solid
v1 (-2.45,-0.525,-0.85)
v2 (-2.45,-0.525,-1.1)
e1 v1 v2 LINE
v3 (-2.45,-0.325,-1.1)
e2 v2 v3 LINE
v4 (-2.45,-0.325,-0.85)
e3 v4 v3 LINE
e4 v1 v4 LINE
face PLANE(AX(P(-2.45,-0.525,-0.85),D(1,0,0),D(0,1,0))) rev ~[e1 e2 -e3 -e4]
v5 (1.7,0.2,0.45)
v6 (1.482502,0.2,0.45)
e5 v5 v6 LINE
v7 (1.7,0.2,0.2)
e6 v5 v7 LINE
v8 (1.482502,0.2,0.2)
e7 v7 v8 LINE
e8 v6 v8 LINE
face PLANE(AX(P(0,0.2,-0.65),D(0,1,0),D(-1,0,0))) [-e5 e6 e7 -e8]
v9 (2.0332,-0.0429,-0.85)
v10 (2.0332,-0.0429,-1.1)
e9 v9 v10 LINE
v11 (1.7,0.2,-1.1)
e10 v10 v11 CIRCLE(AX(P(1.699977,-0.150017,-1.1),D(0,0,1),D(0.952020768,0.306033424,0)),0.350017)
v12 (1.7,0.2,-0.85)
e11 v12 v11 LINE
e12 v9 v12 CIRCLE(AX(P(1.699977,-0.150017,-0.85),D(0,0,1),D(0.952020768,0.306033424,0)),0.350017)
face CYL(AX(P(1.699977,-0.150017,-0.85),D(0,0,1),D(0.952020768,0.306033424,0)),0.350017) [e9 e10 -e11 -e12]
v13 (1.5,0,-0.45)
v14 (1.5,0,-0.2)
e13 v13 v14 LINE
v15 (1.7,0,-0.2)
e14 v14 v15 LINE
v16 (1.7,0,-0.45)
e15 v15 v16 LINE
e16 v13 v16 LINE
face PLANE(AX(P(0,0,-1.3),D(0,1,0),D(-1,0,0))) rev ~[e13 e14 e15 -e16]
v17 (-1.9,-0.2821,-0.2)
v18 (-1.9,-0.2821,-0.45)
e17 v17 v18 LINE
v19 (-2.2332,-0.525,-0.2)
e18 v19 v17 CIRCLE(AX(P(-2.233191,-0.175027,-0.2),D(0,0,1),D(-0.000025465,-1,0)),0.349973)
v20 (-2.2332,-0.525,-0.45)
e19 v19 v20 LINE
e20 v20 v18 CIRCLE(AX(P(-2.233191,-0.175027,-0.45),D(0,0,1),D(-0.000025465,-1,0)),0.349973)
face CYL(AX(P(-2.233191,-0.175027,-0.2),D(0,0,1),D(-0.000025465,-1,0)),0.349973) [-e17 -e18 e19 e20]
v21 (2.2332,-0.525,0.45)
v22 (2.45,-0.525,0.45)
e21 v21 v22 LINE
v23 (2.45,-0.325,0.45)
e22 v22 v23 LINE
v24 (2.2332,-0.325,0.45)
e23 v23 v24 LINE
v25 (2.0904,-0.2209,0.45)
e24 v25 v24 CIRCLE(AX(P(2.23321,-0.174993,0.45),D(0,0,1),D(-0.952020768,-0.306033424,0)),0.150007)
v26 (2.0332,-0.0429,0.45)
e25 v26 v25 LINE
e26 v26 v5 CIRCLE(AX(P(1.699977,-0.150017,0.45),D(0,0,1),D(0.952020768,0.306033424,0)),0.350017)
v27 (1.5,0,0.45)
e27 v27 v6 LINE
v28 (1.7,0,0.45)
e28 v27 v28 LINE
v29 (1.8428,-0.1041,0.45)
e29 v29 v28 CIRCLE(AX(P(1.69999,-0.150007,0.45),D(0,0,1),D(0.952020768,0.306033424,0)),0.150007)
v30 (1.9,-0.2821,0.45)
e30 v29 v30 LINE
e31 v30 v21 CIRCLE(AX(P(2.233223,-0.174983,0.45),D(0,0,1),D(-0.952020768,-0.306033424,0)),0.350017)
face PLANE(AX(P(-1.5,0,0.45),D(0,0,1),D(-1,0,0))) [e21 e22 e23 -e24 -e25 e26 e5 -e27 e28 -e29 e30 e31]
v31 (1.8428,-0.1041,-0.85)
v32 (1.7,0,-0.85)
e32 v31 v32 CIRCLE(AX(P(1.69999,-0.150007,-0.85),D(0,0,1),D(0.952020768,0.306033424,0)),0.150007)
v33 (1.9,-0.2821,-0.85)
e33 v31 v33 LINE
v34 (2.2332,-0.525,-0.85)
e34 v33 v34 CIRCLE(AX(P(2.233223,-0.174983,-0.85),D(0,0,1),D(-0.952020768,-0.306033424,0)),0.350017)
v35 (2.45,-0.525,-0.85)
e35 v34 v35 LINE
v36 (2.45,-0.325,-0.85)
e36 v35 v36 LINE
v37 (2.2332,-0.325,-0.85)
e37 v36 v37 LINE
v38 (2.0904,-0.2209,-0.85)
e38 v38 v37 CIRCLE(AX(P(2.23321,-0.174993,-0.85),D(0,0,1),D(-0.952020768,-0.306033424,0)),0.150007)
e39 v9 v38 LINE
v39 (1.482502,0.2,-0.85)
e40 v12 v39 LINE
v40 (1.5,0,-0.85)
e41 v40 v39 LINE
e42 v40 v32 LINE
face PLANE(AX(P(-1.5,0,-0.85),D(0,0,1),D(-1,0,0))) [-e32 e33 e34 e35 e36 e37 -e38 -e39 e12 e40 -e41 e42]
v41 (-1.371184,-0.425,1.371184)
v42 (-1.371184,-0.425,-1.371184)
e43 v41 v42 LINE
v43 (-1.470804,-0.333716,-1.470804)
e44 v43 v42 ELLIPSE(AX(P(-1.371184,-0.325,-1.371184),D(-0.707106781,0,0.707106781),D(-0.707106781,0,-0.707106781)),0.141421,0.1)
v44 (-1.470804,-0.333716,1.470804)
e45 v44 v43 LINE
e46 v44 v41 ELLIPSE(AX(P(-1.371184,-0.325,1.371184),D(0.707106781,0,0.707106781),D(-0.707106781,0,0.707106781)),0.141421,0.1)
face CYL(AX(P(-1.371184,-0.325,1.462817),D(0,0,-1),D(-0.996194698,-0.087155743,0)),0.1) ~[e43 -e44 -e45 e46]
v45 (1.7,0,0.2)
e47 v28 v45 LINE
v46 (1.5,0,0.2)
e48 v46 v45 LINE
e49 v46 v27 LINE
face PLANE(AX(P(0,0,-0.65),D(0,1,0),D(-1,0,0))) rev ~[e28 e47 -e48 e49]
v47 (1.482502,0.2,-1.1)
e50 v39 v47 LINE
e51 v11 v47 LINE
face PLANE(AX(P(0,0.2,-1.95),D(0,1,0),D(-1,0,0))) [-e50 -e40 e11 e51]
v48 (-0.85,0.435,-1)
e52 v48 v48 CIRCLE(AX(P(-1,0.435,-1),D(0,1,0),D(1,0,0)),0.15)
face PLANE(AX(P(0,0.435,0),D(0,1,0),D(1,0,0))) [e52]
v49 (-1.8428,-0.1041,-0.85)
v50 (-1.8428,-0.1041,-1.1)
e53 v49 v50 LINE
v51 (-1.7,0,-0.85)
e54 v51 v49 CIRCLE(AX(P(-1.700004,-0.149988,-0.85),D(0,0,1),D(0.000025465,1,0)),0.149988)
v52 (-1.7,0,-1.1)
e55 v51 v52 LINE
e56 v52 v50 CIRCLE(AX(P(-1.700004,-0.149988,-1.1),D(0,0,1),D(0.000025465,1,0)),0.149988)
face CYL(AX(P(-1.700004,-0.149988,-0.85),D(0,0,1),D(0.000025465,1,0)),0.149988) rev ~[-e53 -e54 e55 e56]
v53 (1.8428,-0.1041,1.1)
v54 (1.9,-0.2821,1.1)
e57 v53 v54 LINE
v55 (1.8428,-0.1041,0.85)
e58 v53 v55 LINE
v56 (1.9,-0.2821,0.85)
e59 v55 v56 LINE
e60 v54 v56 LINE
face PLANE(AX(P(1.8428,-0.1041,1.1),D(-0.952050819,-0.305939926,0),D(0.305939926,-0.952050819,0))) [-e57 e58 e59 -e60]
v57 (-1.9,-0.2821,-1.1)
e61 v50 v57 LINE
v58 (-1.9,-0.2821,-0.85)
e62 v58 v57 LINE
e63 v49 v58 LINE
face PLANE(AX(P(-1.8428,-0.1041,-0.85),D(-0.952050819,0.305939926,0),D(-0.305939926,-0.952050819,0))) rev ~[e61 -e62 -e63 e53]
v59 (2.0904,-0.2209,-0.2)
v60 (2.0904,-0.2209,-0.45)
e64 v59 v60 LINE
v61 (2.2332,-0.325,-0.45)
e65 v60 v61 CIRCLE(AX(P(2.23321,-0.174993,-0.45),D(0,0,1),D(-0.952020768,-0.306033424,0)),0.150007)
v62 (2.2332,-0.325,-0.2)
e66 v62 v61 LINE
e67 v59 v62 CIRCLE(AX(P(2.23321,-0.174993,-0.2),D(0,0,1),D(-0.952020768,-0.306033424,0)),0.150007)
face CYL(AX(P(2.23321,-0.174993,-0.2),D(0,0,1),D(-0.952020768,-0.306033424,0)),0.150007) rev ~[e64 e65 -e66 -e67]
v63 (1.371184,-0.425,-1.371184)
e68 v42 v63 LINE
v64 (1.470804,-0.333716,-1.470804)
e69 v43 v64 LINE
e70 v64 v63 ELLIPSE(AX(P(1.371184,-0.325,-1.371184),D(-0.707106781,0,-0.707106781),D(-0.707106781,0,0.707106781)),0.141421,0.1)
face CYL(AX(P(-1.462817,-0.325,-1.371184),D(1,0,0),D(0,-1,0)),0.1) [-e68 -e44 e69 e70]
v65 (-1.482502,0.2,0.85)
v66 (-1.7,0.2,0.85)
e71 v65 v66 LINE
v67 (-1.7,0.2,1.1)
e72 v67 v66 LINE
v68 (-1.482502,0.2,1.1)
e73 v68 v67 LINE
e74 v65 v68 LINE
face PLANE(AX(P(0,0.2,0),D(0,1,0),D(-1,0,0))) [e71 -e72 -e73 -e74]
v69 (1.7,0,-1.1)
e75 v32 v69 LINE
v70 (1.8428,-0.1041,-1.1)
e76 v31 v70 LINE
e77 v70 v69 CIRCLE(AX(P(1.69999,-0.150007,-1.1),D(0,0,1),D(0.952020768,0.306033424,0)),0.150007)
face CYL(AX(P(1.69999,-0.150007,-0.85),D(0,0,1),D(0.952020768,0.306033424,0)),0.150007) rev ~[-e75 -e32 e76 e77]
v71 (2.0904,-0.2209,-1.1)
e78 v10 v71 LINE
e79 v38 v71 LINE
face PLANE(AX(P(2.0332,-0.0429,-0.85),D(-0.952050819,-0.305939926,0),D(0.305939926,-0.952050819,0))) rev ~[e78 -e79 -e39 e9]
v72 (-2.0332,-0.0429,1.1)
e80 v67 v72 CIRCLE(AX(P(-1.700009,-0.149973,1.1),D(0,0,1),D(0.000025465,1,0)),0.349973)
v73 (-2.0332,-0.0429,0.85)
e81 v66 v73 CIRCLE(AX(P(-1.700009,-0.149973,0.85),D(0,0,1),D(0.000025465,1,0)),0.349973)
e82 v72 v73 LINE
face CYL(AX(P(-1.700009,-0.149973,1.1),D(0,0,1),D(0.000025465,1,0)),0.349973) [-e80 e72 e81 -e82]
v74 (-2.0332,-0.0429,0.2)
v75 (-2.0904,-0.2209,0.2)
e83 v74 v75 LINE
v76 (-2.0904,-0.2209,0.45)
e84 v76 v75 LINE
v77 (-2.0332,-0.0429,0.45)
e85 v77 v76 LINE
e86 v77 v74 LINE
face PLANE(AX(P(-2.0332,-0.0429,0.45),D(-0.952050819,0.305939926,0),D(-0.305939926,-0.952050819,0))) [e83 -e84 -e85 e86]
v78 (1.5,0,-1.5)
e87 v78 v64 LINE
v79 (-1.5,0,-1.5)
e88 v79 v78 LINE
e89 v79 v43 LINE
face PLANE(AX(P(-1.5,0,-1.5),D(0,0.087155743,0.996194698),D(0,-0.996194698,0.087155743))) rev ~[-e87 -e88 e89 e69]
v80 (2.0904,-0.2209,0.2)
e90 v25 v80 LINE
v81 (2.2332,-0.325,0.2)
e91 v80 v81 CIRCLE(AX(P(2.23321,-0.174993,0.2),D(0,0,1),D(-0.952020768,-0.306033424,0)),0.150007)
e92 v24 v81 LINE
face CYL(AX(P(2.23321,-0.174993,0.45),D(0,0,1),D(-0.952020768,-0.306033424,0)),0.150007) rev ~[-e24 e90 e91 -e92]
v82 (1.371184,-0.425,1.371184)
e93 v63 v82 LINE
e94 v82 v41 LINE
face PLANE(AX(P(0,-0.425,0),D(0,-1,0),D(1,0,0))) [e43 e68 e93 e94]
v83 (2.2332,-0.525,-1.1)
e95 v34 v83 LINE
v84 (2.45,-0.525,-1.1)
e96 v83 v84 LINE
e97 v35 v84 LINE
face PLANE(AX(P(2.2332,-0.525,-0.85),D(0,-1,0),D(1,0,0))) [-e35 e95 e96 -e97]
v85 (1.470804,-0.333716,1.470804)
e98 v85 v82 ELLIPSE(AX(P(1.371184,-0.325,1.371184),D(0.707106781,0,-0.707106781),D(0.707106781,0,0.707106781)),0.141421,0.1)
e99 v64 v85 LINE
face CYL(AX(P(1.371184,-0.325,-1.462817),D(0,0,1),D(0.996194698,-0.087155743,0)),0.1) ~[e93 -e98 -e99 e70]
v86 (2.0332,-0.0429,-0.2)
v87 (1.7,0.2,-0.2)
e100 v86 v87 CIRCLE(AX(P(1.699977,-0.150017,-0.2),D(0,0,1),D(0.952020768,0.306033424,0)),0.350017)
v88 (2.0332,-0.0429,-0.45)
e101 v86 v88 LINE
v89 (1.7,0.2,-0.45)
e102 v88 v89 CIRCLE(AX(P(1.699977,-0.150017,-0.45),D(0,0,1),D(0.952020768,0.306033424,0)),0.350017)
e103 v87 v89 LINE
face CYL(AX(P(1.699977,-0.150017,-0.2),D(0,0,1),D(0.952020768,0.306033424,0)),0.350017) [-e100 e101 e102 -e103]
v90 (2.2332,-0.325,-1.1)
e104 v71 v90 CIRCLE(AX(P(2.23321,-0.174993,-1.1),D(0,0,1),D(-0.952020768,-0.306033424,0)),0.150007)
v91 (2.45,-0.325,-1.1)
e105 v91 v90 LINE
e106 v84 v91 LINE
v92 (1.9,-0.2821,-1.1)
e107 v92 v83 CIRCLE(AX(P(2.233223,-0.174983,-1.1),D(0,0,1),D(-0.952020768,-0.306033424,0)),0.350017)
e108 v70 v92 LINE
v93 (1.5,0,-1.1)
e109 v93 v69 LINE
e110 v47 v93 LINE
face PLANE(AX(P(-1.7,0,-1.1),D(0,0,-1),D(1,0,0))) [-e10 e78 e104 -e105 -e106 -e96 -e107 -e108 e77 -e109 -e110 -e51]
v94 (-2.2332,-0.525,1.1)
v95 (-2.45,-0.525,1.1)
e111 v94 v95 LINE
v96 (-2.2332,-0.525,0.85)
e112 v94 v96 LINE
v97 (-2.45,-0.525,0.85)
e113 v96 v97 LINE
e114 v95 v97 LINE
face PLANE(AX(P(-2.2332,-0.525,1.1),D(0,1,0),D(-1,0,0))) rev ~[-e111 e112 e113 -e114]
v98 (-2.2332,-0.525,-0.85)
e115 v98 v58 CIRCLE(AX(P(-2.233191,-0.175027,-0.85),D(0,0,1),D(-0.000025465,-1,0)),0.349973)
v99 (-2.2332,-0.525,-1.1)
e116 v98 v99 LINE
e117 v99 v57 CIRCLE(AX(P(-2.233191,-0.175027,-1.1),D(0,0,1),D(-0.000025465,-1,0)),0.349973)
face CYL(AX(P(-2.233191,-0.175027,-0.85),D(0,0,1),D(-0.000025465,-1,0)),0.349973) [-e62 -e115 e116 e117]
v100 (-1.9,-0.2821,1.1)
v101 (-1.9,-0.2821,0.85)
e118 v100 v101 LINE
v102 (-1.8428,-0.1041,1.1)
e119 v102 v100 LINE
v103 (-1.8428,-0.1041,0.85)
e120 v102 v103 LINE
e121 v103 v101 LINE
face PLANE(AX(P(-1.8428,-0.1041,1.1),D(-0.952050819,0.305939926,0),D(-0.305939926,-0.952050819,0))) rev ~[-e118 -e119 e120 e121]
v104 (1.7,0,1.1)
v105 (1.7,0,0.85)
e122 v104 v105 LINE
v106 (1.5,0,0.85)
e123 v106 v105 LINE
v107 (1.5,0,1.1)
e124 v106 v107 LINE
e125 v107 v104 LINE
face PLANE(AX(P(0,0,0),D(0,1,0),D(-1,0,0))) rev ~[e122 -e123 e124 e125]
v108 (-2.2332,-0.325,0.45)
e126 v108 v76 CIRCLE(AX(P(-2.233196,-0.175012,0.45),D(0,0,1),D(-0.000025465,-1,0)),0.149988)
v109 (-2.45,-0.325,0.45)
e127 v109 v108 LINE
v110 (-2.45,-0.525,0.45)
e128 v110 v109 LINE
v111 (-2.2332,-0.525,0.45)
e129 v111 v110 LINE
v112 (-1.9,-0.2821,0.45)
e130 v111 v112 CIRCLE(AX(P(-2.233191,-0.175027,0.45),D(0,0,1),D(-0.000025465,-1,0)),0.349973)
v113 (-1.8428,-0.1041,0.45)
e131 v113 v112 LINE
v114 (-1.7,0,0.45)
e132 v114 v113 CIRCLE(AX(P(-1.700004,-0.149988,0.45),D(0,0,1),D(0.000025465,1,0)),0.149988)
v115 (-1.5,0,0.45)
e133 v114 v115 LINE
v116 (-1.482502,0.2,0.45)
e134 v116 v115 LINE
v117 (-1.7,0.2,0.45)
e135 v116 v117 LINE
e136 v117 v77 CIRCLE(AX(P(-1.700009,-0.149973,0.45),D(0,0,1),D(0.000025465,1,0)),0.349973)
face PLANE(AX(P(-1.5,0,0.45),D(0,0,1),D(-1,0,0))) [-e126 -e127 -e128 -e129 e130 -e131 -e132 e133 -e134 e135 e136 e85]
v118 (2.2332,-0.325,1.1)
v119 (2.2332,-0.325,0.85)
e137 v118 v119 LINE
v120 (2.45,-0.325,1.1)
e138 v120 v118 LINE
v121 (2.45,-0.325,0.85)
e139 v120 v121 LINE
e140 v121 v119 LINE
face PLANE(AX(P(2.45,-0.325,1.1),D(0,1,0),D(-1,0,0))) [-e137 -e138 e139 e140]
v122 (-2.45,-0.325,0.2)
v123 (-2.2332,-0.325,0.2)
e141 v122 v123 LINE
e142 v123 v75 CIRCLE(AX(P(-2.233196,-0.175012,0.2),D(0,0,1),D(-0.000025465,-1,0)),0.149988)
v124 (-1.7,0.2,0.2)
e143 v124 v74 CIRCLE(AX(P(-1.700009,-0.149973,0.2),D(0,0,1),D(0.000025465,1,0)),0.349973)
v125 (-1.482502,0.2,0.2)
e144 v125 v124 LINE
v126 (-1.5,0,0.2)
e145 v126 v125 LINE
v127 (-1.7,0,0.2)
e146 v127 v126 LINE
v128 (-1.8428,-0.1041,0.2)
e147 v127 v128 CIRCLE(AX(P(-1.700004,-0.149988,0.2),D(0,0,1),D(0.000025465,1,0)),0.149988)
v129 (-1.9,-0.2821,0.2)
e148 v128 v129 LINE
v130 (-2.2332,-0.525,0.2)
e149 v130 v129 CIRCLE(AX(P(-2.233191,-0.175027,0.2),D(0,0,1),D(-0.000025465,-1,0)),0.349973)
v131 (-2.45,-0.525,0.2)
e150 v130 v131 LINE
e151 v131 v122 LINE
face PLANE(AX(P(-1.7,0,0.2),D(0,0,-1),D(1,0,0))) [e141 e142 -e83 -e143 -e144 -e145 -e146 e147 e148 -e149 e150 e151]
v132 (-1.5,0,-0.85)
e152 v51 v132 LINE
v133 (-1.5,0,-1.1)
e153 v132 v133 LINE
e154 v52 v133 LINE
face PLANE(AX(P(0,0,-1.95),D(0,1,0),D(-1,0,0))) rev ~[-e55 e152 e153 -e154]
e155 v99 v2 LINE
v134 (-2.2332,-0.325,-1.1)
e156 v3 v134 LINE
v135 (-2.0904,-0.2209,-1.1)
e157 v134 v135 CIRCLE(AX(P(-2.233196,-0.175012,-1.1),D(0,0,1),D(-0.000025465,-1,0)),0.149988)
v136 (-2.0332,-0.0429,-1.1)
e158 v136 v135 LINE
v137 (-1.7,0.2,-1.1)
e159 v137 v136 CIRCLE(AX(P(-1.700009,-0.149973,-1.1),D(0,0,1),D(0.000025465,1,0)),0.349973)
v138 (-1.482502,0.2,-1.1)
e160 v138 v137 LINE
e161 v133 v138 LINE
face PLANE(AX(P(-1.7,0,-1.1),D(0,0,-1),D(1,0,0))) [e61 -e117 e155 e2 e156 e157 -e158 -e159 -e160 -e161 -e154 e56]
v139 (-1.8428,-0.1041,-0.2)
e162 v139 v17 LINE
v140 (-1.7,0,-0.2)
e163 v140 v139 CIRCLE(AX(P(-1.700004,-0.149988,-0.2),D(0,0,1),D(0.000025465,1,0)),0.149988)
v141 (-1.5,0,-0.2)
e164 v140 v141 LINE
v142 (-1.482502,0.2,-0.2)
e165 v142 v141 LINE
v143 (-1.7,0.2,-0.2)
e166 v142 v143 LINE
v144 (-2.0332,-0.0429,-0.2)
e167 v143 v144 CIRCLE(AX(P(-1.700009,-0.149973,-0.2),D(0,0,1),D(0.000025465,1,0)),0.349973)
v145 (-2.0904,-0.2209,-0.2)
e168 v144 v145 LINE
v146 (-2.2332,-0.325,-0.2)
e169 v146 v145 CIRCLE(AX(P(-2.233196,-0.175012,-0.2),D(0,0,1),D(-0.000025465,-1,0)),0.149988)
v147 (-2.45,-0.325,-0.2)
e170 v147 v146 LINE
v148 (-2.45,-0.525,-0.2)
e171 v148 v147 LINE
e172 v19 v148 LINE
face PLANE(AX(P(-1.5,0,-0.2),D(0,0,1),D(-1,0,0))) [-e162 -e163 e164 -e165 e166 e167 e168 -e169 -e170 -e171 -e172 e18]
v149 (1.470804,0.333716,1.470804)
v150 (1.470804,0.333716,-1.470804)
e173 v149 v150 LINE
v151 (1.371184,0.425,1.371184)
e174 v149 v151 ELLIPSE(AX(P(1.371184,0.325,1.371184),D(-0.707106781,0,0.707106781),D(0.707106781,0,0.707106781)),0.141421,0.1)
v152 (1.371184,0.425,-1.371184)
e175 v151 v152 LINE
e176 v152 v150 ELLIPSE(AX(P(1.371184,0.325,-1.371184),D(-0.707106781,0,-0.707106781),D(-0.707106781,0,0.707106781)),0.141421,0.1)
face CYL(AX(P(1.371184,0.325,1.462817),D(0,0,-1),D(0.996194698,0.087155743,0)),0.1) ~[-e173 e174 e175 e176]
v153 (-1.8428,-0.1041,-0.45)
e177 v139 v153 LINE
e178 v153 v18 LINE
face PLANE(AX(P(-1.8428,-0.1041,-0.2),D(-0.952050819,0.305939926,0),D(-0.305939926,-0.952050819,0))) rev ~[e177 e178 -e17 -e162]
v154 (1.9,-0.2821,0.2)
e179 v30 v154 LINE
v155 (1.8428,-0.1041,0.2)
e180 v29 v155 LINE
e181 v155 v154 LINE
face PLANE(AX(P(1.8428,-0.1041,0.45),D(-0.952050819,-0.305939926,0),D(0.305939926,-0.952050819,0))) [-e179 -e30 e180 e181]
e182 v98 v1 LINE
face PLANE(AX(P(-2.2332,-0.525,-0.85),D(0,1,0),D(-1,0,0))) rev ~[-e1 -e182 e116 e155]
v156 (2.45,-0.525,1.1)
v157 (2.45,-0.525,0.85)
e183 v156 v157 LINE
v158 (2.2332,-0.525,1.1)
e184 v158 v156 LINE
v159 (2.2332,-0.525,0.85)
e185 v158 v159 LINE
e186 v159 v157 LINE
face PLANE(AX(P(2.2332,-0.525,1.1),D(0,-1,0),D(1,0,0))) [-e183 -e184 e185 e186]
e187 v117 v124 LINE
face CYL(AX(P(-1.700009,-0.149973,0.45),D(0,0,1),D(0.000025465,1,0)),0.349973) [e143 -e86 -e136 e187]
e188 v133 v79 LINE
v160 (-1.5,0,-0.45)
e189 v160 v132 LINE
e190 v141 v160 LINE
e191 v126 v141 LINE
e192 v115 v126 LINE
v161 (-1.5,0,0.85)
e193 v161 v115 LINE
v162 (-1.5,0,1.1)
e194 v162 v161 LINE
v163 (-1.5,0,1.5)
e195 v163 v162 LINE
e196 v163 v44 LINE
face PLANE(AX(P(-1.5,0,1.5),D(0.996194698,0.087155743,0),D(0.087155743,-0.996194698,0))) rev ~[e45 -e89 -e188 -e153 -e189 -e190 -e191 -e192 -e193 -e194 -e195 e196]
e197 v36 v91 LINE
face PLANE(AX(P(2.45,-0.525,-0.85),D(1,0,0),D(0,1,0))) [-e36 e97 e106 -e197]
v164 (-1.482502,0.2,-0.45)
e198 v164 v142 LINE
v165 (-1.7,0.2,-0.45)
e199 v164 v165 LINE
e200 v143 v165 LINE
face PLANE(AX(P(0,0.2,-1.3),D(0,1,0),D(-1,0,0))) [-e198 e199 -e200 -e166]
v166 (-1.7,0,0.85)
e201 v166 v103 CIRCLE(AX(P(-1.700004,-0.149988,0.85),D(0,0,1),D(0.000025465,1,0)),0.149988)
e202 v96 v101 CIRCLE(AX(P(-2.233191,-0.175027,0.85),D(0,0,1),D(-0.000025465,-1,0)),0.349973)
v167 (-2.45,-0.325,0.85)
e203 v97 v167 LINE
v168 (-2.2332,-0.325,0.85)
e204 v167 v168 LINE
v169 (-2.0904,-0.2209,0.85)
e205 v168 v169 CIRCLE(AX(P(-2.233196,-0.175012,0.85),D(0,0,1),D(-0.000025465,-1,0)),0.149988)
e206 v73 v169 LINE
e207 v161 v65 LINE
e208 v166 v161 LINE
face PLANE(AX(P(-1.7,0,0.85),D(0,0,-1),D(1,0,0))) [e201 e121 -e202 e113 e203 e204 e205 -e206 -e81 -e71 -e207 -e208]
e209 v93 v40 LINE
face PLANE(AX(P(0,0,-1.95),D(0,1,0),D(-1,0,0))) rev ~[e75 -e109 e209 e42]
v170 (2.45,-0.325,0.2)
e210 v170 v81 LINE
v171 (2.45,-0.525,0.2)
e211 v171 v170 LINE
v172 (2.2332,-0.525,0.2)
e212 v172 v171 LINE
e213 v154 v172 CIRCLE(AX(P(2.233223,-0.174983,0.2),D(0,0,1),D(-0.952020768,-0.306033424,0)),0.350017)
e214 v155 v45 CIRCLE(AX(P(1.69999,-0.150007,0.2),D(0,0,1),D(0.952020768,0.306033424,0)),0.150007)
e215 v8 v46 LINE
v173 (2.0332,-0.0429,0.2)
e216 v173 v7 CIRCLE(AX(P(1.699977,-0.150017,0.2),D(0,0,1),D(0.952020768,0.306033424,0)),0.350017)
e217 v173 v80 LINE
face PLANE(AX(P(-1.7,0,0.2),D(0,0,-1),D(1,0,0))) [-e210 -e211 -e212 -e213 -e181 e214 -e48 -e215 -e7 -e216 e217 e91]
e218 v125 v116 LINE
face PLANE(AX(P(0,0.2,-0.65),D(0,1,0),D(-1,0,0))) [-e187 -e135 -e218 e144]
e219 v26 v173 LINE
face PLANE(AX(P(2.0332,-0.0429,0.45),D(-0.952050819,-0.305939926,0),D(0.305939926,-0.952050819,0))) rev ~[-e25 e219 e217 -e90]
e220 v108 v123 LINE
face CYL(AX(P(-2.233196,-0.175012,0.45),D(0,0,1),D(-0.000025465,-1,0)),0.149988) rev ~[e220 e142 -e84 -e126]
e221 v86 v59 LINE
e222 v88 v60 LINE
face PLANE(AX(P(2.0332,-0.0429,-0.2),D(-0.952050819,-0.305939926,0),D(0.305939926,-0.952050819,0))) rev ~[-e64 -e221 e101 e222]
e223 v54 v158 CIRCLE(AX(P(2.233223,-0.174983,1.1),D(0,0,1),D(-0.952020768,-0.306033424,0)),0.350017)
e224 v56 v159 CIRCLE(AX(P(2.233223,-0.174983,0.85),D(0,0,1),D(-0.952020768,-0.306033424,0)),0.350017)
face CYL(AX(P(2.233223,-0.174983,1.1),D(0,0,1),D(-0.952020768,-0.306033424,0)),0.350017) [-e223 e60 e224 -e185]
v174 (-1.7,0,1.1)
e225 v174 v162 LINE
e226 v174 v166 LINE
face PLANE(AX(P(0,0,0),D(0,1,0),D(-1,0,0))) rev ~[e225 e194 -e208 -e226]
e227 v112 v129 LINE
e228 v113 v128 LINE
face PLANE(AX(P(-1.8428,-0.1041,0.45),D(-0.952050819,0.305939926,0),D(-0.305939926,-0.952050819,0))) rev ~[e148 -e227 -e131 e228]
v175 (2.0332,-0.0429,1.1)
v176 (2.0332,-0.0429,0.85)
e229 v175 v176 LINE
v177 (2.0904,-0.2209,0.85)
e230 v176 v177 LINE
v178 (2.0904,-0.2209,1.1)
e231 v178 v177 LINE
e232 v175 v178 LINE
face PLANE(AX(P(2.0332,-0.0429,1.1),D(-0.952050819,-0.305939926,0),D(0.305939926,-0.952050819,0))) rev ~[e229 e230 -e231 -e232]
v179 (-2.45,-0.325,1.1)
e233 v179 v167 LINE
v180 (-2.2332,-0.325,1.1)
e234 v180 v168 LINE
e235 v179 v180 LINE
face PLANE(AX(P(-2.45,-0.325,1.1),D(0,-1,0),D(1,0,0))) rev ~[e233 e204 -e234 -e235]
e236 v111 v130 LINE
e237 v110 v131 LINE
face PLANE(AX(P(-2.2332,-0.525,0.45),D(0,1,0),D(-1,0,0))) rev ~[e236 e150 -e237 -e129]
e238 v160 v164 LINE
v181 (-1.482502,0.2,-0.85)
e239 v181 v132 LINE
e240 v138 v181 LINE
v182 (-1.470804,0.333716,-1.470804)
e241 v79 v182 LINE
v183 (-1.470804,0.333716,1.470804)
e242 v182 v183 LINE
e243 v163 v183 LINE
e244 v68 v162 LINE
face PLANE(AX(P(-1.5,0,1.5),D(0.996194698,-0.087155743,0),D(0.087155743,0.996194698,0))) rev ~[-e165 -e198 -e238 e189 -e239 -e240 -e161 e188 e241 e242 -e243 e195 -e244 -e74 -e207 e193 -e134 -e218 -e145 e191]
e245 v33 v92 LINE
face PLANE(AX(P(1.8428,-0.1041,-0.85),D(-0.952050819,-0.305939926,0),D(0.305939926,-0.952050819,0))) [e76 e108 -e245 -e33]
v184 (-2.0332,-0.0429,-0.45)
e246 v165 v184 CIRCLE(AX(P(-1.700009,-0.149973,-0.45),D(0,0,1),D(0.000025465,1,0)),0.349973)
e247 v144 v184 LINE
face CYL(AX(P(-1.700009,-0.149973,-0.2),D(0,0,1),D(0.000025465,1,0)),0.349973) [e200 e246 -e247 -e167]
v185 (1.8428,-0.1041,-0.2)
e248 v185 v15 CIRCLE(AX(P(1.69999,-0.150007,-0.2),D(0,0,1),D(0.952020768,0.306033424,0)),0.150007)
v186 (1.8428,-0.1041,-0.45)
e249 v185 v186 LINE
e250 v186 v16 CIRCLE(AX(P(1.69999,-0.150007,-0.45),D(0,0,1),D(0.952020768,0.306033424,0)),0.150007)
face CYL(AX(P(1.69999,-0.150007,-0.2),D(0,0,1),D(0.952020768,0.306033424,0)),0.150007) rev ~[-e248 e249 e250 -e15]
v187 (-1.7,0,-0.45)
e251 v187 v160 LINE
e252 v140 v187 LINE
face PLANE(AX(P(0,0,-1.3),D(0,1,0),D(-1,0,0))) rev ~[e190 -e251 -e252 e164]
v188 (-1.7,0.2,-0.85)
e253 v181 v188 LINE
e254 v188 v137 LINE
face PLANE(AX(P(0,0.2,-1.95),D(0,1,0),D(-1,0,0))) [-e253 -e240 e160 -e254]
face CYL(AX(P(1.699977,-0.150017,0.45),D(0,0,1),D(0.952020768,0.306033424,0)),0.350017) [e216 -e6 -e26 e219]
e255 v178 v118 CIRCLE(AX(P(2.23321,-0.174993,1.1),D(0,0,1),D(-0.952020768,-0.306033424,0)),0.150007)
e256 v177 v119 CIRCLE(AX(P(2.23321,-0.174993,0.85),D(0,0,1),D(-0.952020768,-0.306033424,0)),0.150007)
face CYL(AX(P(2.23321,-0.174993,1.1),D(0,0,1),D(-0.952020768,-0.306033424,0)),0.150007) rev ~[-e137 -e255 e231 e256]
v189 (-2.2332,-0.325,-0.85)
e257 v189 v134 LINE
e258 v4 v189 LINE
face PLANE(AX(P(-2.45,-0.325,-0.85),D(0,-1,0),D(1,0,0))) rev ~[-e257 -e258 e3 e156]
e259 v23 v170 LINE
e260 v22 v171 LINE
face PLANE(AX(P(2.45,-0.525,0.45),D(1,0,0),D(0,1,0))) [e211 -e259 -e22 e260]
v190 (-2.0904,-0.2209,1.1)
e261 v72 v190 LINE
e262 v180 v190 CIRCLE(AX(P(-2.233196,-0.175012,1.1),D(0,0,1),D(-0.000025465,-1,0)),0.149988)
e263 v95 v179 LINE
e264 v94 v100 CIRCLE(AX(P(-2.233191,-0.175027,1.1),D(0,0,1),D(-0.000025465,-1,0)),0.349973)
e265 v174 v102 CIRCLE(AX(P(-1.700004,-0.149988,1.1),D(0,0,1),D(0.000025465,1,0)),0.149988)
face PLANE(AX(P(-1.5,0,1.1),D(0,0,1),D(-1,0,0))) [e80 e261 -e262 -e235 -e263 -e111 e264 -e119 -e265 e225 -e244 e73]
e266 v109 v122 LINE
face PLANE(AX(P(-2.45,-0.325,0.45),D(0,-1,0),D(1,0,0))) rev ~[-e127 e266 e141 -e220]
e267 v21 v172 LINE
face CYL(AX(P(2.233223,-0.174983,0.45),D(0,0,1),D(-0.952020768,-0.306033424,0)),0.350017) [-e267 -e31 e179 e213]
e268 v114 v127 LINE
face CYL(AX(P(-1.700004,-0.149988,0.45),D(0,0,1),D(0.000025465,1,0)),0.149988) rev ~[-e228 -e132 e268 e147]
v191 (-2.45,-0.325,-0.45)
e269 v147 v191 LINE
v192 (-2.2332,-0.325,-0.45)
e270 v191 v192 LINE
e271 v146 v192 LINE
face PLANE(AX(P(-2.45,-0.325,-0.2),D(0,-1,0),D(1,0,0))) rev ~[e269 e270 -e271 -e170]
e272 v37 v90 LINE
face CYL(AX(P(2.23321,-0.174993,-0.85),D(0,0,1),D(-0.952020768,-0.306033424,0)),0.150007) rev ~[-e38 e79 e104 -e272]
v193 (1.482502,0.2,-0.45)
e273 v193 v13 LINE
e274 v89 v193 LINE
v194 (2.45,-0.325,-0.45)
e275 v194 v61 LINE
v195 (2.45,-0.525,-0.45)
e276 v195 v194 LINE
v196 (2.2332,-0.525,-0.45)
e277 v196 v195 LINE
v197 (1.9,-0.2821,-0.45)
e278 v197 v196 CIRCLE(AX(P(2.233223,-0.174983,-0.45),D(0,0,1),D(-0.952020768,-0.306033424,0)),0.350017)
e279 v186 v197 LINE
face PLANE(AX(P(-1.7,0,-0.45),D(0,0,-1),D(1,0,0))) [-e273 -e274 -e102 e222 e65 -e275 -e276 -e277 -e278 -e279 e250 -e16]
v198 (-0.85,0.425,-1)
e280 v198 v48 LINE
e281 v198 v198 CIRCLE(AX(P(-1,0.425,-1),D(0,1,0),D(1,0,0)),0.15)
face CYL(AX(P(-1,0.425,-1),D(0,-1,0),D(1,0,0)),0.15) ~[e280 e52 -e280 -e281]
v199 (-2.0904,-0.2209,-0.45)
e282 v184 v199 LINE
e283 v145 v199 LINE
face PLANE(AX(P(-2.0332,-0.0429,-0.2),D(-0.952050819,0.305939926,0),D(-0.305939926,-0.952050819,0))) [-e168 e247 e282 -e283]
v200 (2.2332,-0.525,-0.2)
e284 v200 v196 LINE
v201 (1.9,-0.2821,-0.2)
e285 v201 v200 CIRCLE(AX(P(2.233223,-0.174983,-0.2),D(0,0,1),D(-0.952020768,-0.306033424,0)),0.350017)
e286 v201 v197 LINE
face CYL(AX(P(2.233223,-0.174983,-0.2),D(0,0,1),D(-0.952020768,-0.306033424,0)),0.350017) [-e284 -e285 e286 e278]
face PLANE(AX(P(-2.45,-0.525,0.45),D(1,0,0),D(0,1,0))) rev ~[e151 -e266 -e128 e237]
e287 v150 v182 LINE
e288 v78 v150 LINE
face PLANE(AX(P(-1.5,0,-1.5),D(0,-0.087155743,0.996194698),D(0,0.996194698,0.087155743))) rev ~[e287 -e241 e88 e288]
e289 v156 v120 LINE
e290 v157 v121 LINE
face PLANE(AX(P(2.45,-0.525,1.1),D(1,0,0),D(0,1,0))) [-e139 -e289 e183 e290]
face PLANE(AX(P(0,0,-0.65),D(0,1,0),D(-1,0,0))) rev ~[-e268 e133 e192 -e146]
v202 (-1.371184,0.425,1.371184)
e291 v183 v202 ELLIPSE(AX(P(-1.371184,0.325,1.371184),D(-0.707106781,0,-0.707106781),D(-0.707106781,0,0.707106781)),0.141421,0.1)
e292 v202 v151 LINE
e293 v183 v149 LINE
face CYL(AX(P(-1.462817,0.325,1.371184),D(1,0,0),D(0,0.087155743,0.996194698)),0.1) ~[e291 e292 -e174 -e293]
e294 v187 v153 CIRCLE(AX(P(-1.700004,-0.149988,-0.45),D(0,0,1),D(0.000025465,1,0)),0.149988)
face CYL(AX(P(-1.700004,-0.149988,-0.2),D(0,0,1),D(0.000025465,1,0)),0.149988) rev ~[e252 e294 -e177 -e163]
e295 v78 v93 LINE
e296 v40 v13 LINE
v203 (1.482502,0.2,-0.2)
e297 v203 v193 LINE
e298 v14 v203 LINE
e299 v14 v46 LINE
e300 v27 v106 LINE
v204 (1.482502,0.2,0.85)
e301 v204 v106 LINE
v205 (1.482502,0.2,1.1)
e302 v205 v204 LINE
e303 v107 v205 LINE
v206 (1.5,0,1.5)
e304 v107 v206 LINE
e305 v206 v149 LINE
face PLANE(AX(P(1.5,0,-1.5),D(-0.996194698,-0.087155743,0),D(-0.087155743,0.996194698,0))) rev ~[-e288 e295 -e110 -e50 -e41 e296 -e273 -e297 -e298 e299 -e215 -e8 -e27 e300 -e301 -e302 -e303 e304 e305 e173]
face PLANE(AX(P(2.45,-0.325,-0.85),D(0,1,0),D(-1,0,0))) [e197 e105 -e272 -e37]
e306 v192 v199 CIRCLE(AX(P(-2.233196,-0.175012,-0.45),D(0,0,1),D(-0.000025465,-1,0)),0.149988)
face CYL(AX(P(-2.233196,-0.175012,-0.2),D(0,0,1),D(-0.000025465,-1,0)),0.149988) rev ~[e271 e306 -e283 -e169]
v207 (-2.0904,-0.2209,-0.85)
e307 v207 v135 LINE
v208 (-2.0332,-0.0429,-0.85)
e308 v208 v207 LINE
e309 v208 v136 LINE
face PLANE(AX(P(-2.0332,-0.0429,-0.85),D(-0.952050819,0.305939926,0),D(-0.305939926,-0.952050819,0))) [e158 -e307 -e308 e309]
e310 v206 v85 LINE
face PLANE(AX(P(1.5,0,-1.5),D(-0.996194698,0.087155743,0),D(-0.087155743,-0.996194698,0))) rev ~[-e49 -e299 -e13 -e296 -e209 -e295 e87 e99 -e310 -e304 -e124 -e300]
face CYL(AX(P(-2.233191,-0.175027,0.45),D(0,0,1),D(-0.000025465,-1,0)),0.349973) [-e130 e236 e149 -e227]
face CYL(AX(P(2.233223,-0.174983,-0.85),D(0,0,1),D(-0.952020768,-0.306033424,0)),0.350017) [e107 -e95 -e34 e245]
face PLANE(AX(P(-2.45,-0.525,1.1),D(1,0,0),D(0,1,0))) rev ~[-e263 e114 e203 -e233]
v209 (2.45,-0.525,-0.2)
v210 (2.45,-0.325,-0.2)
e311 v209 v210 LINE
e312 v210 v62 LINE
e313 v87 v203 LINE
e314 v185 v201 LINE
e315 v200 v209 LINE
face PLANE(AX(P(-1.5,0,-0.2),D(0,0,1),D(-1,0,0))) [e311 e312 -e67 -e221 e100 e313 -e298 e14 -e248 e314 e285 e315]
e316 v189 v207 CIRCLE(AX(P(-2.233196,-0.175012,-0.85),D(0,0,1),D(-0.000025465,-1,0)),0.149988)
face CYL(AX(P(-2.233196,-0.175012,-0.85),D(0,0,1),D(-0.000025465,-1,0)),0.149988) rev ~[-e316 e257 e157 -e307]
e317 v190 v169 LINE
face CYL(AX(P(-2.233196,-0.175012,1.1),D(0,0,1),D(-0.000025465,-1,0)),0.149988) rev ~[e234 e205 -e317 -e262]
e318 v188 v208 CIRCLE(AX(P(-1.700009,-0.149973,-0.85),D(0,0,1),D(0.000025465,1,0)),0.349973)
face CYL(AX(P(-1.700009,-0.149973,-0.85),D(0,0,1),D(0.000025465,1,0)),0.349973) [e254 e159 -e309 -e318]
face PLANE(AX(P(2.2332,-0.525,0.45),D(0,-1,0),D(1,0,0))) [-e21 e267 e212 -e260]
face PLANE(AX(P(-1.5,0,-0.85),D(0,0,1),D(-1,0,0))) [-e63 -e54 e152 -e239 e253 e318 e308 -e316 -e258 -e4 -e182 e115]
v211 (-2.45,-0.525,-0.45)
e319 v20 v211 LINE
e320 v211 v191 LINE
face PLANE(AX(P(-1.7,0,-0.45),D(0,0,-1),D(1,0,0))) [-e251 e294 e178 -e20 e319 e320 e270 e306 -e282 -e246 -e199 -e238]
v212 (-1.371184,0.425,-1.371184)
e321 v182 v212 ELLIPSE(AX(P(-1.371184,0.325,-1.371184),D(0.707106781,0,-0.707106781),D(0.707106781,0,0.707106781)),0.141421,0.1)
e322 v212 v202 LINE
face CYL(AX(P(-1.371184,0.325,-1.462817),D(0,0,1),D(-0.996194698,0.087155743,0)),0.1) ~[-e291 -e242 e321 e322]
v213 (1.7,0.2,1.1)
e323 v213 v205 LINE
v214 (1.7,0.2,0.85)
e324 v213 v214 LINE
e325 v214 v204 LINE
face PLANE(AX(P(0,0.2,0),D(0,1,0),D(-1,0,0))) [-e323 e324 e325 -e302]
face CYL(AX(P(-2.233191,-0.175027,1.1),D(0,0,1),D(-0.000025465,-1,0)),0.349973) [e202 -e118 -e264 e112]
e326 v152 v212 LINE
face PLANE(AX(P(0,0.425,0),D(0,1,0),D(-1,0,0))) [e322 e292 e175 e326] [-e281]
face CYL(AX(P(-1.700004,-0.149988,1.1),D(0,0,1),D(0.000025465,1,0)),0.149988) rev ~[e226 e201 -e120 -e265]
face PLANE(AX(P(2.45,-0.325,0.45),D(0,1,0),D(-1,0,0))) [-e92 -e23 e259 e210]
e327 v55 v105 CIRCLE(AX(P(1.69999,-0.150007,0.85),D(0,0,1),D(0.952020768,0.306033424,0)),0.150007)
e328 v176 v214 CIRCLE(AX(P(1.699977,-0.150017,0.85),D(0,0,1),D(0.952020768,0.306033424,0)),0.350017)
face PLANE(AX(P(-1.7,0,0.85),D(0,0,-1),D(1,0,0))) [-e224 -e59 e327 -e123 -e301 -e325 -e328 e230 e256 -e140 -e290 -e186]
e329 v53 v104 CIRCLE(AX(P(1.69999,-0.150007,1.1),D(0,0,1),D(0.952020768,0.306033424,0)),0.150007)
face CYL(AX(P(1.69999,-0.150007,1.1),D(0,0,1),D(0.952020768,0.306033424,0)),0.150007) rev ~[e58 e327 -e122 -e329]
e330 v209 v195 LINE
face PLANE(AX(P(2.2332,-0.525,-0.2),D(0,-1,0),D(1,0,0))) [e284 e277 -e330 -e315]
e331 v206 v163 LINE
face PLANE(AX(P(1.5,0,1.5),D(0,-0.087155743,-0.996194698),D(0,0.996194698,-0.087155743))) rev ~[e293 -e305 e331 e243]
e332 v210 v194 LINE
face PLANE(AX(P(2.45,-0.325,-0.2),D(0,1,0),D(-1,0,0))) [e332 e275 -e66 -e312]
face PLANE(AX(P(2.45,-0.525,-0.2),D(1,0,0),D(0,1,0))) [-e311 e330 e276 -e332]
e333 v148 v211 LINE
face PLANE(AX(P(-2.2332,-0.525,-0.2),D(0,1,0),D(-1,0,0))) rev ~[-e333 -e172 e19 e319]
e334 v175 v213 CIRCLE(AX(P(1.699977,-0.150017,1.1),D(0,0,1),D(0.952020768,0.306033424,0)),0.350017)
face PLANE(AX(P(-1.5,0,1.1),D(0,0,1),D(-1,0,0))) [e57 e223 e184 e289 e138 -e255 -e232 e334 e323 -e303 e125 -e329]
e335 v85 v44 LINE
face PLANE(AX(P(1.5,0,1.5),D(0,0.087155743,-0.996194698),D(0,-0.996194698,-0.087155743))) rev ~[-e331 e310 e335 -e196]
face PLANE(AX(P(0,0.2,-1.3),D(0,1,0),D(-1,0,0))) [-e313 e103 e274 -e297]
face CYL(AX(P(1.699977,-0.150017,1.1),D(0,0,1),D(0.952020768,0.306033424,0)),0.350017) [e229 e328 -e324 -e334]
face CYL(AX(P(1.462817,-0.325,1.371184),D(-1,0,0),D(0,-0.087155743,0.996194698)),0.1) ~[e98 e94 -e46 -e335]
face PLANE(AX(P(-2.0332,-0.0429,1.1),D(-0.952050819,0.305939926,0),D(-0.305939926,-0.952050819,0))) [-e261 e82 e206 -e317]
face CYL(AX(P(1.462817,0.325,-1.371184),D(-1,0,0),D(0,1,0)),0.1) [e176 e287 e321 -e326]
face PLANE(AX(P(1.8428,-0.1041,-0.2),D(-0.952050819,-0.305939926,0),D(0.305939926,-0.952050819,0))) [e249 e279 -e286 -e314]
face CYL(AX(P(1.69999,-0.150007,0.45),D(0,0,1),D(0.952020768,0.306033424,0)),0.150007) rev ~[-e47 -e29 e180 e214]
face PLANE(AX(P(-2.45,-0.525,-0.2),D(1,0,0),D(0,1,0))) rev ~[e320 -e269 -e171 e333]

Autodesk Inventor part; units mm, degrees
ref_plane "YZ Plane" through (0, 0, 0) normal (1, 0, 0) x (0, 1, 0)
ref_plane "XZ Plane" through (0, 0, 0) normal (0, 1, 0) x (-1, 0, 0)
ref_plane "XY Plane" through (0, 0, 0) normal (0, 0, 1) x (1, 0, 0)
sketch "Sketch1" plane through (0, 0, 0) normal (0, 1, 0) x (-1, 0, 0)
  line L0 (-1.5, 1.5) -> (1.5, 1.5)
  line L1 (1.5, 1.5) -> (1.5, -1.5)
  line L2 (1.5, -1.5) -> (-1.5, -1.5)
  line L3 (-1.5, -1.5) -> (-1.5, 1.5)
  line L4 (-1.5, 1.5) -> (1.5, -1.5) construction
  line L5 (1.5, 1.5) -> (-1.5, -1.5) construction
  point P0 (0, 0)
  dimension "d0" = 3
  dimension "d1" = 3
extrude "Extrusion1" add sketch "Sketch1" along normal blind 0.425 draft -5
sketch "Sketch2" plane through (0, 0, 0) normal (0, -1, 0) x (1, 0, 0)
  line L0 (1.5, 1.5) -> (-1.5, 1.5) projected
  line L1 (1.5, 1.5) -> (-1.5, 1.5) projected
  line L2 (-1.5, 1.5) -> (-1.5, -1.5) projected
  line L3 (-1.5, -1.5) -> (1.5, -1.5) projected
  line L4 (1.5, -1.5) -> (1.5, 1.5) projected
  point P0 (0, 0)
extrude "Extrusion2" add sketch "Sketch2" along normal blind 0.425 draft -5
fillet "Fillet1" radius 0.1 8 edges at (-1.4628, 0.425, 0) (0, 0.425, 1.4628) (0, 0.425, -1.4628) (1.4628, 0.425, 0) (1.4628, -0.425, 0) (0, -0.425, 1.4628) (-1.4628, -0.425, 0) (0, -0.425, -1.4628)
sketch "Sketch3" plane through (0, 0, 0) normal (0, 1, 0) x (-1, 0, 0)
  line L0 (1.5, 1.5) -> (1.5, -1.5) projected
  line L1 (-1.5, 1.5) -> (1.5, 1.5) projected
  line L2 (1.5, 1.1) -> (1.7, 1.1)
  line L3 (1.7, 1.1) -> (1.7, 0.85)
  line L4 (1.7, 0.85) -> (1.5, 0.85)
  line L5 (1.5, 0.85) -> (1.5, 1.1)
  line L6 (-1.5, -1.5) -> (-1.5, 1.5) projected
  line L7 (-1.5, 1.1) -> (-1.7, 1.1)
  line L8 (-1.7, 1.1) -> (-1.7, 0.85)
  line L9 (-1.7, 0.85) -> (-1.5, 0.85)
  line L10 (-1.5, 0.85) -> (-1.5, 1.1)
  line L11 (-1.5, 0.85) -> (1.5, 0.85)
  line L12 (1.5, 0.85) -> (1.5, 1.1)
  line L13 (1.5, 1.1) -> (-1.5, 1.1)
  line L14 (-1.5, 1.1) -> (-1.5, 0.85)
  point P0 (0, 0)
  point P1 (1.5, 0.975)
  dimension "d7" = 0.25
  dimension "d8" = 0.975
  dimension "d9" = 0.2
extrude "Extrusion3" add sketch "Sketch3" along normal blind 0.2 contours L2 L3 L4 L0 | L0 L11 L6 L13 | L6 L9 L8 L7
sketch "Sketch4" plane through (-1.7, 0, 1.1) normal (0, 0, 1) x (1, 0, 0)
  line L0 (0.2175, 0.2) -> (0.2, 0) projected
  line L1 (0, 0.2) -> (0.2175, 0.2) projected
  line L2 (0, 0) -> (0, 0.2) projected
  line L3 (0, 0) -> (0.2, 0) projected
  line L4 (3.2, 0) -> (3.1825, 0.2) projected
  line L5 (3.2, 0) -> (3.4, 0) projected
  line L6 (3.4, 0) -> (3.4, 0.2) projected
  line L7 (3.1825, 0.2) -> (3.4, 0.2) projected
  line L8 (0, 0) -> (0.2, 0) projected
  arc A0 (0, 0) -> (-0.1428, -0.1041) centre (0, -0.15) ccw
  arc A1 (-0.5332, -0.525) -> (-0.2, -0.2821) centre (-0.5332, -0.175) ccw
  line L9 (0, 0.2) -> (0.2175, 0.2) projected
  arc A2 (0, 0.2) -> (-0.3332, -0.0429) centre (0, -0.15) ccw
  arc A3 (-0.5332, -0.325) -> (-0.3904, -0.2209) centre (-0.5332, -0.175) ccw
  line L10 (-0.5332, -0.525) -> (-0.75, -0.525)
  line L11 (-0.75, -0.525) -> (-0.75, -0.325)
  line L12 (-0.75, -0.325) -> (-0.5332, -0.325)
  line L13 (-0.3332, -0.0429) -> (-0.3904, -0.2209)
  line L14 (-0.1428, -0.1041) -> (-0.2, -0.2821)
  line L15 (3.0712, -0.425) -> (0.3288, -0.425) projected
  line L16 (0, 0.2) -> (0, 0)
  line L17 (0.3288, 0.425) -> (3.0712, 0.425) projected
  line L18 (1.7, 0.5) -> (1.7, -0.5)
  line L19 (3.4, 0) -> (3.4, 0.2)
  arc A4 (3.5428, -0.1041) -> (3.4, 0) centre (3.4, -0.15) ccw
  arc A5 (3.6, -0.2821) -> (3.9332, -0.525) centre (3.9332, -0.175) ccw
  arc A6 (3.7332, -0.0429) -> (3.4, 0.2) centre (3.4, -0.15) ccw
  arc A7 (3.7904, -0.2209) -> (3.9332, -0.325) centre (3.9332, -0.175) ccw
  line L20 (3.9332, -0.525) -> (4.15, -0.525)
  line L21 (4.15, -0.525) -> (4.15, -0.325)
  line L22 (4.15, -0.325) -> (3.9332, -0.325)
  line L23 (3.7332, -0.0429) -> (3.7904, -0.2209)
  line L24 (3.5428, -0.1041) -> (3.6, -0.2821)
  point P0 (1.7, 0)
  dimension "d12" = 0.15
  dimension "d13" = 0.15
  dimension "d16" = 0.55
  dimension "d17" = 0.1
  dimension "d25" = 4.9
extrude "Extrusion4" add sketch "Sketch4" against normal up to surface (0.25 mm away) contours L2 A0 L14 A1 L10 L11 L12 A3 L13 A2 | L6 A6 L23 A7 L22 L21 L20 A5 L24 A4
pattern_linear "Rectangular Pattern1" count 4 spacing 0.65 along (0, 0, -1) of "Extrusion4", "Extrusion3"
sketch "Sketch5" plane through (0, 0.425, 0) normal (0, 1, 0) x (1, 0, 0)
  line L0 (1.3712, -1.3712) -> (-1.3712, -1.3712) projected
  line L1 (1.3712, 1.3712) -> (1.3712, -1.3712) projected
  line L2 (-1.3712, 1.3712) -> (1.3712, 1.3712) projected
  line L3 (-1.3712, -1.3712) -> (-1.3712, 1.3712) projected
  circle A0 centre (-1, 1) radius 0.15
  circle A1 centre (-1, 1) radius 0.3712 construction
  line L4 (-1.3712, -1.3712) -> (-1.3712, 1.3712) projected
  line L5 (-1.3712, -1.3712) -> (1.3712, -1.3712) construction
  line L6 (-1.3712, 1.3712) -> (1.3712, 1.3712) construction
  line L7 (-1.5, 1.5) -> (1.5, 1.5) projected
  point P0 (0, 0)
  dimension "d26" = 0.5
  dimension "d27" = 0.3
extrude "Extrusion5" add sketch "Sketch5" along normal blind 0.01 and the other way blind 0.255 contours A0
equation "\"d13\" = d12"
properties part number "Semiconductor_TSSOP-8" material "ABS Plastic"
